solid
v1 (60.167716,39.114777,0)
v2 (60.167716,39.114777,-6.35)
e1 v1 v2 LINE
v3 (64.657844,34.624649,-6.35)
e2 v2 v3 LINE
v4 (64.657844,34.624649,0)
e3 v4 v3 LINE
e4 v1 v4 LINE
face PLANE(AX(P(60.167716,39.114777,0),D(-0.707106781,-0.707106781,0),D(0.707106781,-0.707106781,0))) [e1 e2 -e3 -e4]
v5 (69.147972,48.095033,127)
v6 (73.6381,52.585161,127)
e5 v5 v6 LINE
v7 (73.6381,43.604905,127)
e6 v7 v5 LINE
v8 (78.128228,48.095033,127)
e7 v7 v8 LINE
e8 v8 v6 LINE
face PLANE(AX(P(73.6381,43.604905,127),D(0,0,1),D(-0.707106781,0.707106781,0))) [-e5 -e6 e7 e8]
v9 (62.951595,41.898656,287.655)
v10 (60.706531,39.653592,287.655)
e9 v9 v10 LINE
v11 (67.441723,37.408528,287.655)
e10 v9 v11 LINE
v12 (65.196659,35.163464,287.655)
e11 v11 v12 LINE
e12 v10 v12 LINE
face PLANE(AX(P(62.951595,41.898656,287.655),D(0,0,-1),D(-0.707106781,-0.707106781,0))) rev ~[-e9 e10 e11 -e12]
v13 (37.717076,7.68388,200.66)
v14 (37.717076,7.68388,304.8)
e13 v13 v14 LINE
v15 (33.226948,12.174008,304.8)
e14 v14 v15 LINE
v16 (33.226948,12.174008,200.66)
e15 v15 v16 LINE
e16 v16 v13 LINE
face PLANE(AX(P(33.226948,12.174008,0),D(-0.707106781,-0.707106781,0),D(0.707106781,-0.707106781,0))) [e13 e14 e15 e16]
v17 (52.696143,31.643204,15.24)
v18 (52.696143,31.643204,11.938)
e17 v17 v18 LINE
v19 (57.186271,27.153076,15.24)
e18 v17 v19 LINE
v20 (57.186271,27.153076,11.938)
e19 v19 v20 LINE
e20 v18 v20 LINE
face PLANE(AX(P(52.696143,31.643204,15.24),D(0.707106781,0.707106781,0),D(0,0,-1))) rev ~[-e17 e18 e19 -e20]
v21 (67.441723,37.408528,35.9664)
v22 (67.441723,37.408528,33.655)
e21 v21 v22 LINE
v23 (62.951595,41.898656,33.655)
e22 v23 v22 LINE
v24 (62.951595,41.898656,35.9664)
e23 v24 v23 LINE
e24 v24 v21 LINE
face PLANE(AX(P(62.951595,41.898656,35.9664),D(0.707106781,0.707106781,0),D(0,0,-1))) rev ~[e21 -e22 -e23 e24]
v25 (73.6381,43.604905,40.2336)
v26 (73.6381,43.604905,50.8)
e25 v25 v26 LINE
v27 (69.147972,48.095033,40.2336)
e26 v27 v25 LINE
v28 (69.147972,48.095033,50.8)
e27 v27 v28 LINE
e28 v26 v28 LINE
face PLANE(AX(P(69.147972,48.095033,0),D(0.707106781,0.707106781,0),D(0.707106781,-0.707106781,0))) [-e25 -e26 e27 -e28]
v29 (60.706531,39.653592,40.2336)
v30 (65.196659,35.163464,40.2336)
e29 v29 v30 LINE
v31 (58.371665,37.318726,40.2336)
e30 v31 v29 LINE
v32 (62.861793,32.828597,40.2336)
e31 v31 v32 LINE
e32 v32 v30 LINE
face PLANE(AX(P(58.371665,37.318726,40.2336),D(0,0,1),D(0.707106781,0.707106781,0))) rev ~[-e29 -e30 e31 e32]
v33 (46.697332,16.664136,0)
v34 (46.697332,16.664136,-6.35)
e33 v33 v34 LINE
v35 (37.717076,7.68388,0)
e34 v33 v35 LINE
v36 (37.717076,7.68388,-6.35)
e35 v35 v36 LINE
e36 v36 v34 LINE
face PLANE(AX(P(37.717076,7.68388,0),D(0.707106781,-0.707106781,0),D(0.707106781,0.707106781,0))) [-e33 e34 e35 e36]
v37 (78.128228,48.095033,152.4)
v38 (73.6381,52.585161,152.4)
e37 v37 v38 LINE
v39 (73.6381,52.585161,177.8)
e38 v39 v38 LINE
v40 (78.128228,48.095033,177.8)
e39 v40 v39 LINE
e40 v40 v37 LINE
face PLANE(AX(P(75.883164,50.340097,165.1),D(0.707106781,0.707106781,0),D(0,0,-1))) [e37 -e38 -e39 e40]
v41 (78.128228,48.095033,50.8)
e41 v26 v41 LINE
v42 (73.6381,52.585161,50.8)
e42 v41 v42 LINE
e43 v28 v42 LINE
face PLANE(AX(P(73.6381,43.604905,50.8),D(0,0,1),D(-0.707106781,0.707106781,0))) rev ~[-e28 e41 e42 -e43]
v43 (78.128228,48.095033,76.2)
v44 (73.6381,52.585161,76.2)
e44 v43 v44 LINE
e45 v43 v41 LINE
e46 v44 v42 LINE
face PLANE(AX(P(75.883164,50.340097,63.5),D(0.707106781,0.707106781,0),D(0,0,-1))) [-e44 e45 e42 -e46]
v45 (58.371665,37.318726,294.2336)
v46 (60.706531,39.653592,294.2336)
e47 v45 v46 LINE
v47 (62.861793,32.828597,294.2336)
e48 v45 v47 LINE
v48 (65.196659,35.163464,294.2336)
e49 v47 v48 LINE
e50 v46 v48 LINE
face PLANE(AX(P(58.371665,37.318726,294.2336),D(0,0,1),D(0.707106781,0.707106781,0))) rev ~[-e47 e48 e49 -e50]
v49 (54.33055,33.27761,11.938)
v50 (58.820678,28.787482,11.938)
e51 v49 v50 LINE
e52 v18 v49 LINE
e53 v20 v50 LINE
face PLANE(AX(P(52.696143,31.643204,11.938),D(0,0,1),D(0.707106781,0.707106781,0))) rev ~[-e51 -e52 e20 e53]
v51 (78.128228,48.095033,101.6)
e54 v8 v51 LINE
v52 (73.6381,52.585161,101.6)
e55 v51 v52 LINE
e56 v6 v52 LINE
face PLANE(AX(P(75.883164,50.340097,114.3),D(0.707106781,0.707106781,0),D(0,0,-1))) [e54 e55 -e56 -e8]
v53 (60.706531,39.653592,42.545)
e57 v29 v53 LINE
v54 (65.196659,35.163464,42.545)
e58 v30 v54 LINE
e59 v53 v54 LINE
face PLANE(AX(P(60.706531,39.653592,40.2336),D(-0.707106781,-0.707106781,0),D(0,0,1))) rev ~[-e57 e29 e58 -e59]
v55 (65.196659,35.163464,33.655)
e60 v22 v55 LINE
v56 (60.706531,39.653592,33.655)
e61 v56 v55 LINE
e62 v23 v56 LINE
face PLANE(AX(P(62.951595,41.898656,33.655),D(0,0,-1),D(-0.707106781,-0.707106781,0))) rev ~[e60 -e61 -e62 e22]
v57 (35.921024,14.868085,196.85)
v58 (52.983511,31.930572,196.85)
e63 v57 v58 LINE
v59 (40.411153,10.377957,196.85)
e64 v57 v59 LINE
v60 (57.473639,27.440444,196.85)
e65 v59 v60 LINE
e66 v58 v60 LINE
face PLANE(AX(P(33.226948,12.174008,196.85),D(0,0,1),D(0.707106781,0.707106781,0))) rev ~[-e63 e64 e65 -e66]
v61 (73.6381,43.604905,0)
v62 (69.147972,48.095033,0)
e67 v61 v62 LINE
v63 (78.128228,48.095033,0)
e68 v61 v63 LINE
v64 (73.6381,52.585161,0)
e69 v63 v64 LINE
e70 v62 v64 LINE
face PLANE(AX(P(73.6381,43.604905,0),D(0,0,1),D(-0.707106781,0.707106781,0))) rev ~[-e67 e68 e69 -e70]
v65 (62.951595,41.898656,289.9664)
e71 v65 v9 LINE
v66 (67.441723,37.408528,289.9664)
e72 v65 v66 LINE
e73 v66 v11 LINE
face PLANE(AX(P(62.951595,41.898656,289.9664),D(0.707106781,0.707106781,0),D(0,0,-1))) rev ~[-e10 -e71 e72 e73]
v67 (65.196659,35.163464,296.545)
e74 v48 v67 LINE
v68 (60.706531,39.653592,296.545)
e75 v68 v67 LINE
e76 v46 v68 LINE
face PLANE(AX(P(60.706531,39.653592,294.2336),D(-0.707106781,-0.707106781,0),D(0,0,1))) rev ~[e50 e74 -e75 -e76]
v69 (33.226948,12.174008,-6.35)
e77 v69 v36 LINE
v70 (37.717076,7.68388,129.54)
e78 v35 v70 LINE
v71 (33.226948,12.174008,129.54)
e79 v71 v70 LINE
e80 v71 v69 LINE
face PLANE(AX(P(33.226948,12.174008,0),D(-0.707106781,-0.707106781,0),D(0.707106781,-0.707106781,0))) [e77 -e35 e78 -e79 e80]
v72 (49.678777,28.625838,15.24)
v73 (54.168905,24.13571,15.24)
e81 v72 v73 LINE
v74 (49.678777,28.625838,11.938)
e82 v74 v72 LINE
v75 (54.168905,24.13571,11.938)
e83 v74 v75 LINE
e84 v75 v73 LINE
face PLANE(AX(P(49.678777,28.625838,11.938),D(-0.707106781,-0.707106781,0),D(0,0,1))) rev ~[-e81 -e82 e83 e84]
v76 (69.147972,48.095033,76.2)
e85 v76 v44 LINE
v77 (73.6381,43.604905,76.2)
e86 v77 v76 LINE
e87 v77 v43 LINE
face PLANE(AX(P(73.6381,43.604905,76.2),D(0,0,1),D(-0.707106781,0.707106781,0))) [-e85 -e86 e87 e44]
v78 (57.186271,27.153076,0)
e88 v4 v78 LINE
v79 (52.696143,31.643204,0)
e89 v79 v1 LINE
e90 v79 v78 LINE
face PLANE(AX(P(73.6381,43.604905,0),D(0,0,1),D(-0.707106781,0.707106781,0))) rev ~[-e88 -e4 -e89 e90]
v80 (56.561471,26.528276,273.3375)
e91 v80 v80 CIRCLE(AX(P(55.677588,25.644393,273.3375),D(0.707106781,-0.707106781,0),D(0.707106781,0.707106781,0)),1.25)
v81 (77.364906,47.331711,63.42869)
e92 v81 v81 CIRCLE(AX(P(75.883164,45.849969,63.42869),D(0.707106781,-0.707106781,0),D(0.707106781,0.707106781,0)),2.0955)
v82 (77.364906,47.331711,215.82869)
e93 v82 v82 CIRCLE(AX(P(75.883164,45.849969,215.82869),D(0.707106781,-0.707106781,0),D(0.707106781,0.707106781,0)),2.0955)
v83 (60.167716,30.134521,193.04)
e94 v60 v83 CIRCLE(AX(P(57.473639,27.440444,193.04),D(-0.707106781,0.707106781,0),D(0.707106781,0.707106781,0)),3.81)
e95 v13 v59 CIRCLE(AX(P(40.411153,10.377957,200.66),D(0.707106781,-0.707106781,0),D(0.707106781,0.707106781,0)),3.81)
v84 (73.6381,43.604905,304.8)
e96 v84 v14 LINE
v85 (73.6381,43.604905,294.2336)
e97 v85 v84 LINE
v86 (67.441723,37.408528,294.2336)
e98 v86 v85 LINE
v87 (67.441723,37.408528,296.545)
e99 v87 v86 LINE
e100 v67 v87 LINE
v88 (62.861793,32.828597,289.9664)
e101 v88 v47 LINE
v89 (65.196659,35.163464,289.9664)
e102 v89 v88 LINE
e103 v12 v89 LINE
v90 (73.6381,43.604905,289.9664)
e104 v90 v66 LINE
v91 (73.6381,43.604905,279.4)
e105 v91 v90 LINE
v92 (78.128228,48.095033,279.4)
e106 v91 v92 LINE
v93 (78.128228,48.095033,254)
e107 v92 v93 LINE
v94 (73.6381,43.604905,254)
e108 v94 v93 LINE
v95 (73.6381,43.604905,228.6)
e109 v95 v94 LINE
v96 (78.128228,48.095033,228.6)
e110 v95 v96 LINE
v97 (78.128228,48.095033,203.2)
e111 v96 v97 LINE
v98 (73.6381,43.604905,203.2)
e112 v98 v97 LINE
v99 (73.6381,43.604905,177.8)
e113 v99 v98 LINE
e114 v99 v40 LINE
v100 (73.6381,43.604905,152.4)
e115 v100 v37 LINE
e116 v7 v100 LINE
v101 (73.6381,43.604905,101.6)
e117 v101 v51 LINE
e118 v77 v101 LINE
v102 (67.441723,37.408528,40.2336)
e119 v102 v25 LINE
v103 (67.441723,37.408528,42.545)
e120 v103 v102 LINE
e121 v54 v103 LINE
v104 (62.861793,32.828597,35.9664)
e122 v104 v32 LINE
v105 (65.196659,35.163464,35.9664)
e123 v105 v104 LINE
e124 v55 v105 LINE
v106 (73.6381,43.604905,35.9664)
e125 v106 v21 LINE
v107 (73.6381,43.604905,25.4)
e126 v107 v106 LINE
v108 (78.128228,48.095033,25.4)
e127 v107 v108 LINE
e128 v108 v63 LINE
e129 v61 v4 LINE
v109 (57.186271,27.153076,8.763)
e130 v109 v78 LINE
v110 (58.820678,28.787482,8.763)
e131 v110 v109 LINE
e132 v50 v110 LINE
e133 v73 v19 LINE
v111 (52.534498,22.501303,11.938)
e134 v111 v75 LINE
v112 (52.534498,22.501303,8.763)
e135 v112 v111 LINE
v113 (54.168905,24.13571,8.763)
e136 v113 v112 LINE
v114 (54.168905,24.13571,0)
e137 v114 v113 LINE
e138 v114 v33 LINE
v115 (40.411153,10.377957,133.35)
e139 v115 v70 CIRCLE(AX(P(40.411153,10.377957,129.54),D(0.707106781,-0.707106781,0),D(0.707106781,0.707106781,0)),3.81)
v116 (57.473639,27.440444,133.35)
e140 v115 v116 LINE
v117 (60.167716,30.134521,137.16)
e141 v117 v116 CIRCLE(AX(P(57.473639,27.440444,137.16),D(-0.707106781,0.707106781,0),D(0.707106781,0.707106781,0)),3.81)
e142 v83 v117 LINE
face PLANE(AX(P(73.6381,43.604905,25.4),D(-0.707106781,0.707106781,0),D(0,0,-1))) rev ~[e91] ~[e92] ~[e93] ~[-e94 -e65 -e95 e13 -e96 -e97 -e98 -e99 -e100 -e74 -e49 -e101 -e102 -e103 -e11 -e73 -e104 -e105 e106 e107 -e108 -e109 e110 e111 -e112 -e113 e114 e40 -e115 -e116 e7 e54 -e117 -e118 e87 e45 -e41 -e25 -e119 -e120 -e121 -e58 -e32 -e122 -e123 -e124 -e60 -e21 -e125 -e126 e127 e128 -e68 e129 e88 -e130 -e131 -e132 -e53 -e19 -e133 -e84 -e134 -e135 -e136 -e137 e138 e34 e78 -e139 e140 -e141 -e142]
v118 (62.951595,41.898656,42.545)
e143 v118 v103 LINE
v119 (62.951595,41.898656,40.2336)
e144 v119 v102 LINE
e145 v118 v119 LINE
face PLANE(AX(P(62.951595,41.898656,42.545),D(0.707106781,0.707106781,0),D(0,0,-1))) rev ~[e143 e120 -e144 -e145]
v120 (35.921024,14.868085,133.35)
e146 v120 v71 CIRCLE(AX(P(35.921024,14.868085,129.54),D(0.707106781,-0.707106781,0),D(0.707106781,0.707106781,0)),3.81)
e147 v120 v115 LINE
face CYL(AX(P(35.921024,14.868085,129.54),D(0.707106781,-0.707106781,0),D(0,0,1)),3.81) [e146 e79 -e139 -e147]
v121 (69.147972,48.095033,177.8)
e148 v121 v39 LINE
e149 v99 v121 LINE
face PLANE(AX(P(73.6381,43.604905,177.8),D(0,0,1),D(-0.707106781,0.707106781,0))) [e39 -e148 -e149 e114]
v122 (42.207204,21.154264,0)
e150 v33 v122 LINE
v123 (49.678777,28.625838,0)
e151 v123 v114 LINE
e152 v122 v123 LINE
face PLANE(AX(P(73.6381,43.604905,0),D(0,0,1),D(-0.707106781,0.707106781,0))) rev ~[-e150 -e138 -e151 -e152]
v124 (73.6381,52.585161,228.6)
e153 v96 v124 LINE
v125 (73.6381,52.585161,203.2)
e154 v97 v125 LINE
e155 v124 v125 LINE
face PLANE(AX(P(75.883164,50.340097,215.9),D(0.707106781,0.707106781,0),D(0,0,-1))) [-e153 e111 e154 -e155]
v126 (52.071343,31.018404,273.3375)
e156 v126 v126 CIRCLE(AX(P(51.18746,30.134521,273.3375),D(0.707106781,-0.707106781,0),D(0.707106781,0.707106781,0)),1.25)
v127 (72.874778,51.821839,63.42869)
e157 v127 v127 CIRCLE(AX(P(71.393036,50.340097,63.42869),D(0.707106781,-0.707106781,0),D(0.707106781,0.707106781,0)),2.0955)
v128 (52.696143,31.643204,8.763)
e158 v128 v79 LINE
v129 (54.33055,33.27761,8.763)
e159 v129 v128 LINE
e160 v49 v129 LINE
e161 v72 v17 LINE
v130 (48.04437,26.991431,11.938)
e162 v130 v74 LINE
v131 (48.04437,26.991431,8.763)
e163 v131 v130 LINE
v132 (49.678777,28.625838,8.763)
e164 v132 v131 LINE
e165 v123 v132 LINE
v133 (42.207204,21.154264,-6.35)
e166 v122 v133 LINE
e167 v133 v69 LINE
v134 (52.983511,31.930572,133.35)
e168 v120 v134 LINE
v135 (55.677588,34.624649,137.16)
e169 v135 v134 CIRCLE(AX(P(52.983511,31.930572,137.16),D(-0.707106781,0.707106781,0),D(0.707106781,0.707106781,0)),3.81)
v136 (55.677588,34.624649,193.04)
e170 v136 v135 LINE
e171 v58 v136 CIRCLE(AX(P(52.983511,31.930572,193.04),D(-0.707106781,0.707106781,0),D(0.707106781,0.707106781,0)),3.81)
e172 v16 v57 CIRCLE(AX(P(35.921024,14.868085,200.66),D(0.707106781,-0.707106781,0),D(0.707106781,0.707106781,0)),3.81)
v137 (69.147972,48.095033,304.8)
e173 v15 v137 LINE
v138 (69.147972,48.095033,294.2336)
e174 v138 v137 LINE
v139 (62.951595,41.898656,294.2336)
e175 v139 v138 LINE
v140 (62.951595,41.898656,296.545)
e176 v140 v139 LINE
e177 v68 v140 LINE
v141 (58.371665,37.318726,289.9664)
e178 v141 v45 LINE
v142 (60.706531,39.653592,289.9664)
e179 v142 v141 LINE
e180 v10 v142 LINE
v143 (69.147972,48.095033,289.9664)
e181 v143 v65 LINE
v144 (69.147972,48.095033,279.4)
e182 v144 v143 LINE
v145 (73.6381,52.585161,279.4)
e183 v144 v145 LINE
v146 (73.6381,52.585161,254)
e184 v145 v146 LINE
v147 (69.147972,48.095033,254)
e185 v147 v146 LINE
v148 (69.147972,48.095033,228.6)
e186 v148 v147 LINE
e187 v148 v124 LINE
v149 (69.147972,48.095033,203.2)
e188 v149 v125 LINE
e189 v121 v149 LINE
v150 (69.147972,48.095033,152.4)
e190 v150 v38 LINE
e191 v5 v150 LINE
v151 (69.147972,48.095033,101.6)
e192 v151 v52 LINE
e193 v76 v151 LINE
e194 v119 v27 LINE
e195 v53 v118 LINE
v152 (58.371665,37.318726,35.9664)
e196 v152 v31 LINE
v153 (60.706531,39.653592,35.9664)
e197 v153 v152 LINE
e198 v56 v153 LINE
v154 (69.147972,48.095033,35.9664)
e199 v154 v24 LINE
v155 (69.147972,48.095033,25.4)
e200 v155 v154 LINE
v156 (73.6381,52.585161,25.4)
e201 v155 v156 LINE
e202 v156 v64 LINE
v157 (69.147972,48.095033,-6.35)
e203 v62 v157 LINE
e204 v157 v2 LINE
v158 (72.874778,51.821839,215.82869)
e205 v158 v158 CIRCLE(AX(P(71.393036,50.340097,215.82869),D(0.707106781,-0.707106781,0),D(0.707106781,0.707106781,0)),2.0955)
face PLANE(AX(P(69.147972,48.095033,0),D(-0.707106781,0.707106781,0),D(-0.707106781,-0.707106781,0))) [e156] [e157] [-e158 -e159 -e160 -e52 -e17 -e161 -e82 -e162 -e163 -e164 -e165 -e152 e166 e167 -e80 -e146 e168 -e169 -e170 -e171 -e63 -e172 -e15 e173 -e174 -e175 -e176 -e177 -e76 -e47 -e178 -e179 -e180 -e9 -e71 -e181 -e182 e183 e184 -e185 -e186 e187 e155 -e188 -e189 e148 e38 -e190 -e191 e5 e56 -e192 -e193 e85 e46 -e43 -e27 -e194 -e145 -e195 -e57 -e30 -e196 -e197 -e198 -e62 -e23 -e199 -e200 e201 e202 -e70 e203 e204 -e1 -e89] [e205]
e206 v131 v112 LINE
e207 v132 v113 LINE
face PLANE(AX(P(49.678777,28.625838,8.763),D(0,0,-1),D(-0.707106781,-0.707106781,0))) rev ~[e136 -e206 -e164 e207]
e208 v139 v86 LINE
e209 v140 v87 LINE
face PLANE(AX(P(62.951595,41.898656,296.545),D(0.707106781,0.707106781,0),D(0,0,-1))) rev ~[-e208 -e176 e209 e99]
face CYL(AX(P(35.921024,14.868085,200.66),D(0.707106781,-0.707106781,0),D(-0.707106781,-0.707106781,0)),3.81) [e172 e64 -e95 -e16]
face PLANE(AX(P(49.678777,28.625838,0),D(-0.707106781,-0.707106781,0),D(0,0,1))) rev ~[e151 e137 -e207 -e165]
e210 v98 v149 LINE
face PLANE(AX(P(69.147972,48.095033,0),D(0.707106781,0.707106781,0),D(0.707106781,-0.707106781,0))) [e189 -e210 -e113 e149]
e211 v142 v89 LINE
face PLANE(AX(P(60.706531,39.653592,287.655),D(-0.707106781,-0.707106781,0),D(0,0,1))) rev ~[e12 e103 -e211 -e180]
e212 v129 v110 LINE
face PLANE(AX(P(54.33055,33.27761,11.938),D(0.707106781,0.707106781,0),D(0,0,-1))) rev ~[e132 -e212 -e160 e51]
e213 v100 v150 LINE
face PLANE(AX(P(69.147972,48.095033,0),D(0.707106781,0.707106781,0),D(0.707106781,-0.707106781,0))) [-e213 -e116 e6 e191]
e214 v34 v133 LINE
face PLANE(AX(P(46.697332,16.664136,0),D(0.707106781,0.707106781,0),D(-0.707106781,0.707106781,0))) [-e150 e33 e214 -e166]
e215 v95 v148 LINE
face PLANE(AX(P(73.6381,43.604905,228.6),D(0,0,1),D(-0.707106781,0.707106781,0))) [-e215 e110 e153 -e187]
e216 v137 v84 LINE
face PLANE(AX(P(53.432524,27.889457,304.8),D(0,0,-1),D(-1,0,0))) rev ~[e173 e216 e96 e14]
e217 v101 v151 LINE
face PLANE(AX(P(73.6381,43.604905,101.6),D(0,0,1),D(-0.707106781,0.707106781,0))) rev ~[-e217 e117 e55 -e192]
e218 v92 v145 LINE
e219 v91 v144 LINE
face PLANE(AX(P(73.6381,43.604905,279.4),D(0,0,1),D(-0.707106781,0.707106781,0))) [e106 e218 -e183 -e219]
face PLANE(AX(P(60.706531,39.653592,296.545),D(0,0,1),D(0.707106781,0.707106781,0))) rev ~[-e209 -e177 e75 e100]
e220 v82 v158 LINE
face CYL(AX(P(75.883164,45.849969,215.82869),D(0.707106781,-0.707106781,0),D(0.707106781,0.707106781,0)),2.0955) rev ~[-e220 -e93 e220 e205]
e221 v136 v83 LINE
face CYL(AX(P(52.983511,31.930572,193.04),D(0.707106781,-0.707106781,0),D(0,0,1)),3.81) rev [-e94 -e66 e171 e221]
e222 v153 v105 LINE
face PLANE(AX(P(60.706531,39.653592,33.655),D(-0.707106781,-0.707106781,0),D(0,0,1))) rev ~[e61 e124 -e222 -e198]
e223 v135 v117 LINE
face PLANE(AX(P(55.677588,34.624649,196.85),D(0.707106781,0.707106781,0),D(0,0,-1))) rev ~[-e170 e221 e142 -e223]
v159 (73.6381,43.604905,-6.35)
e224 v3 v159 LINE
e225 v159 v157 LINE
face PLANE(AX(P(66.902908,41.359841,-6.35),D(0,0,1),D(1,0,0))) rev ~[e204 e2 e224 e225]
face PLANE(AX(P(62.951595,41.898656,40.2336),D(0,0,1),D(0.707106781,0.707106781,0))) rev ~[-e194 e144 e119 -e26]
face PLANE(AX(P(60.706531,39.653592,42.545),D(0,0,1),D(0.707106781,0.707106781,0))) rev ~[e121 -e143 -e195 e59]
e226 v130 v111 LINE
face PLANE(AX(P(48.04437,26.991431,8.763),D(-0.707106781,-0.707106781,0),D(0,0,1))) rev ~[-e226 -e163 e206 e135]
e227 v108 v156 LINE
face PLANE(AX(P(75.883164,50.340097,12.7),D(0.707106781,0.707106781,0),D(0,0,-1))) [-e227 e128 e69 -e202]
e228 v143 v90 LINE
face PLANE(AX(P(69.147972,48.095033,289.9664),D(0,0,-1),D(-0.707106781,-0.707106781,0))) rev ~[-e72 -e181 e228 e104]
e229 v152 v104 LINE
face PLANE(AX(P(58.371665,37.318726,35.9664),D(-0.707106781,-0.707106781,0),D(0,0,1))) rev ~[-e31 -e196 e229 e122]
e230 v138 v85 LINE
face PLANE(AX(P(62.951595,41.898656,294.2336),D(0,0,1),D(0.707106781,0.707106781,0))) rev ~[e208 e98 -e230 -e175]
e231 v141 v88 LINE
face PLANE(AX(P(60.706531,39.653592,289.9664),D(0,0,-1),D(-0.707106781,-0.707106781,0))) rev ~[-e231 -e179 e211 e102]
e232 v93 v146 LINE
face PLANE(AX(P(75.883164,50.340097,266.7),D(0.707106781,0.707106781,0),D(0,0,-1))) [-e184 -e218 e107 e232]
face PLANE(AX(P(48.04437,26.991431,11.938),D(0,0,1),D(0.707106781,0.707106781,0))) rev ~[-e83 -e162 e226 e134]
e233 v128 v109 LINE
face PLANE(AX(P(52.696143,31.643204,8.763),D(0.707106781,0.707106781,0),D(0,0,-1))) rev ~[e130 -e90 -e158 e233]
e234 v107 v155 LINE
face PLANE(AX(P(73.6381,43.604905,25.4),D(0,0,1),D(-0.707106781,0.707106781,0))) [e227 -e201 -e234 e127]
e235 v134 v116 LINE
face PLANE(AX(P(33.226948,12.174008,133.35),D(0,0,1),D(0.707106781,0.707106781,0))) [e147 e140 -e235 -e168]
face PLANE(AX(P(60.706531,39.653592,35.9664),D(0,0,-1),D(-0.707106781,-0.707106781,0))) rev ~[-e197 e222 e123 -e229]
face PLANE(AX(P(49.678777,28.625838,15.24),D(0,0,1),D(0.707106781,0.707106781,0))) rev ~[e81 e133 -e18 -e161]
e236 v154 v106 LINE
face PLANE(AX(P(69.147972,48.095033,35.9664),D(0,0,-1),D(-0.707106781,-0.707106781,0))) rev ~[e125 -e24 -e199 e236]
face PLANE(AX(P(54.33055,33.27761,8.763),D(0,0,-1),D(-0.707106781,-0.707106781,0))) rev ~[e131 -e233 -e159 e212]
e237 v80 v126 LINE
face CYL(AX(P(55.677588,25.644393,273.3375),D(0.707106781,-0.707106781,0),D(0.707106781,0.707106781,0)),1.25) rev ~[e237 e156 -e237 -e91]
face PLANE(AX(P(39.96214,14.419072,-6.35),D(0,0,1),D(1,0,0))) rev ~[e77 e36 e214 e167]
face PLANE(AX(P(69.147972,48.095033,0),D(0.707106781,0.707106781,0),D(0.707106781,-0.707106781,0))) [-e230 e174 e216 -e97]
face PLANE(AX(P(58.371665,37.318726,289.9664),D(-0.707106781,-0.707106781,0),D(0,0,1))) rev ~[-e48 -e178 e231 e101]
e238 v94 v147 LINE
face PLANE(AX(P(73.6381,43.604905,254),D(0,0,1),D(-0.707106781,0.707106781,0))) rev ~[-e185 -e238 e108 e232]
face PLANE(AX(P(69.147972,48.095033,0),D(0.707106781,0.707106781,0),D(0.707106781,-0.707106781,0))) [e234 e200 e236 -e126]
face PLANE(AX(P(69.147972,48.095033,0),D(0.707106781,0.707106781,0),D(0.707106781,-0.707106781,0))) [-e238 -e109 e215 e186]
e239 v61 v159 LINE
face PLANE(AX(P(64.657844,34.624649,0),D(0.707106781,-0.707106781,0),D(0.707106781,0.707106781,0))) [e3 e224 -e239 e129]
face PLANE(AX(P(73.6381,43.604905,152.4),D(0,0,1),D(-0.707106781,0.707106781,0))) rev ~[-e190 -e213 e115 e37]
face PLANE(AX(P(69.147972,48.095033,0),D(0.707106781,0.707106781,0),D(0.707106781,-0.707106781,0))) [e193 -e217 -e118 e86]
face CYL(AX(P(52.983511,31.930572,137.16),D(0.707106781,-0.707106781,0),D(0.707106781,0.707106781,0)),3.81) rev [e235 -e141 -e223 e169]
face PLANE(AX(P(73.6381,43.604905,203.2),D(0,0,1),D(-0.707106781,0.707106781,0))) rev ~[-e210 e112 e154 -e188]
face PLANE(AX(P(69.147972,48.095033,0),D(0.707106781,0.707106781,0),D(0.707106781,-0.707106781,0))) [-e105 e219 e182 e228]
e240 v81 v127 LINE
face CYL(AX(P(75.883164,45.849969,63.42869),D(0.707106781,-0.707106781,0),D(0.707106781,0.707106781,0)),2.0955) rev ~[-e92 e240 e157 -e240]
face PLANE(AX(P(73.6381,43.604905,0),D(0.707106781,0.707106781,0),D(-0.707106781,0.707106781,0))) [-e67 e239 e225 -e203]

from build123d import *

# Parameters (mm, degrees)
BOSS_EXTRUDE1_DEPTH = 304.8
SKETCH2_W           = 25.4
SKETCH2_H           = 6.35
BOSS_EXTRUDE2_DEPTH = 6.35
LPATTERN1_COUNT     = 6
LPATTERN1_PITCH     = 50.8
SKETCH3_R           = 1.25
CUT_EXTRUDE1_DEPTH  = 6.35
BOSS_EXTRUDE3_DEPTH = 6.35
LPATTERN2_COUNT     = 2
LPATTERN2_PITCH     = 38.1
CUT_EXTRUDE2_DEPTH  = 319.521766414
CUT_EXTRUDE3_DEPTH  = 319.521766414
SKETCH7_R           = 2.0955
CUT_EXTRUDE4_DEPTH  = 319.521766414
SKETCH8_W           = 31.75
SKETCH8_H           = 63.5
CUT_EXTRUDE5_DEPTH  = 319.521766414
FILLET1_R           = 3.81


with BuildPart() as part:
    # Sketch1 → Boss-Extrude1 (new body)
    with BuildSketch(Plane.XY):
        Polygon((37.717075708, 7.683880312), (33.226947648, 12.174008373), (69.147972132, 48.095032857), (73.638100193, 43.604904797), align=None)
    extrude(amount=BOSS_EXTRUDE1_DEPTH)

    # Sketch2 → Boss-Extrude2 (add)
    with BuildSketch(Plane(origin=(58.621502495, 58.621502495, 0), x_dir=(0, 0, -1), z_dir=(0.7071067811865471, 0.7071067811865479, 0))):
        with Locations((-266.7, -18.061676125)):
            Rectangle(SKETCH2_W, SKETCH2_H)
    boss_extrude2 = extrude(amount=BOSS_EXTRUDE2_DEPTH)

    # LPattern1: Boss-Extrude2 ×6
    with Locations(*[(0, 0, -i * LPATTERN1_PITCH) for i in range(1, LPATTERN1_COUNT)]):
        add(boss_extrude2)

    # Sketch3 → Cut-Extrude1 (cut)
    with BuildSketch(Plane(origin=(15.016597698, -15.016597698, 0), x_dir=(0, 0, -1), z_dir=(0.7071067811865396, -0.7071067811865555, 0))):
        with Locations(Location((-273.3375, 57.503323875, 0), (0, 0, 90))):
            Circle(SKETCH3_R)
    extrude(amount=-CUT_EXTRUDE1_DEPTH, mode=Mode.SUBTRACT)

    # Sketch4 → Boss-Extrude3 (add)
    with BuildSketch(Plane(origin=(0, 0, 0), x_dir=(-1, 0, 0), z_dir=(0, 0, -1))):
        Polygon((-33.226947648, 12.174008373), (-37.717075708, 7.683880312), (-46.69733183, 16.664136433), (-42.207203769, 21.154264494), align=None)
    boss_extrude3 = extrude(amount=BOSS_EXTRUDE3_DEPTH)

    # LPattern2: Boss-Extrude3 ×2
    with Locations(*[Vector(0.7071067811865472, 0.7071067811865478, 0) * (i * LPATTERN2_PITCH) for i in range(1, LPATTERN2_COUNT)]):
        add(boss_extrude3)

    # Sketch5 → Cut-Extrude2 (cut, through all)
    with BuildSketch(Plane(origin=(10.526469638, -10.526469638, 0), x_dir=(0.7071067811865537, 0.7071067811865415, 0), z_dir=(-0.7071067811865415, 0.7071067811865537, 0))):
        Polygon((59.636923875, 0), (55.369723875, 0), (55.369723875, -8.763), (53.058323875, -8.763), (53.058323875, -11.938), (55.369723875, -11.938), (55.369723875, -15.24), (59.636923875, -15.24), (59.636923875, -11.938), (61.948323875, -11.938), (61.948323875, -8.763), (59.636923875, -8.763), align=None)
    extrude(amount=-CUT_EXTRUDE2_DEPTH, mode=Mode.SUBTRACT)

    # Sketch6 → Cut-Extrude3 (cut, through all)
    with BuildSketch(Plane(origin=(10.526469638, -10.526469638, 0), x_dir=(0.7071067811865537, 0.7071067811865415, 0), z_dir=(-0.7071067811865415, 0.7071067811865537, 0))):
        Polygon((82.903323875, -294.2336), (82.903323875, -289.9664), (74.140323875, -289.9664), (74.140323875, -287.655), (70.965323875, -287.655), (70.965323875, -289.9664), (67.663323875, -289.9664), (67.663323875, -294.2336), (70.965323875, -294.2336), (70.965323875, -296.545), (74.140323875, -296.545), (74.140323875, -294.2336), align=None)
        Polygon((82.903323875, -40.2336), (82.903323875, -35.9664), (74.140323875, -35.9664), (74.140323875, -33.655), (70.965323875, -33.655), (70.965323875, -35.9664), (67.663323875, -35.9664), (67.663323875, -40.2336), (70.965323875, -40.2336), (70.965323875, -42.545), (74.140323875, -42.545), (74.140323875, -40.2336), align=None)
    extrude(amount=-CUT_EXTRUDE3_DEPTH, mode=Mode.SUBTRACT)

    # Sketch7 → Cut-Extrude4 (cut, through all)
    with BuildSketch(Plane(origin=(15.016597698, -15.016597698, 0), x_dir=(-0.7071067811865553, -0.7071067811865398, 0), z_dir=(0.7071067811865398, -0.7071067811865553, 0))):
        with Locations(Location((-86.078323875, -215.828690193, 0), (0, 0, 180))):
            Circle(SKETCH7_R)
        with Locations(Location((-86.078323875, -63.428690193, 0), (0, 0, 180))):
            Circle(SKETCH7_R)
    extrude(amount=-CUT_EXTRUDE4_DEPTH, mode=Mode.SUBTRACT)

    # Sketch8 → Cut-Extrude5 (cut, through all)
    with BuildSketch(Plane(origin=(10.526469638, -10.526469638, 0), x_dir=(0.7071067811865537, 0.7071067811865415, 0), z_dir=(-0.7071067811865415, 0.7071067811865537, 0))):
        with Locations((47.978323875, -165.1)):
            Rectangle(SKETCH8_W, SKETCH8_H)
    extrude(amount=-CUT_EXTRUDE5_DEPTH, mode=Mode.SUBTRACT)

    # Fillet1
    fillet1_edges = [part.edges().sort_by_distance(p)[0] for p in [
        (35.472011678, 9.928944343, 196.85),
        (35.472011678, 9.928944343, 133.35),
        (57.922651981, 32.379584645, 133.35),
        (57.922651981, 32.379584645, 196.85),
    ]]
    fillet(fillet1_edges, radius=FILLET1_R)


solid = part.part
